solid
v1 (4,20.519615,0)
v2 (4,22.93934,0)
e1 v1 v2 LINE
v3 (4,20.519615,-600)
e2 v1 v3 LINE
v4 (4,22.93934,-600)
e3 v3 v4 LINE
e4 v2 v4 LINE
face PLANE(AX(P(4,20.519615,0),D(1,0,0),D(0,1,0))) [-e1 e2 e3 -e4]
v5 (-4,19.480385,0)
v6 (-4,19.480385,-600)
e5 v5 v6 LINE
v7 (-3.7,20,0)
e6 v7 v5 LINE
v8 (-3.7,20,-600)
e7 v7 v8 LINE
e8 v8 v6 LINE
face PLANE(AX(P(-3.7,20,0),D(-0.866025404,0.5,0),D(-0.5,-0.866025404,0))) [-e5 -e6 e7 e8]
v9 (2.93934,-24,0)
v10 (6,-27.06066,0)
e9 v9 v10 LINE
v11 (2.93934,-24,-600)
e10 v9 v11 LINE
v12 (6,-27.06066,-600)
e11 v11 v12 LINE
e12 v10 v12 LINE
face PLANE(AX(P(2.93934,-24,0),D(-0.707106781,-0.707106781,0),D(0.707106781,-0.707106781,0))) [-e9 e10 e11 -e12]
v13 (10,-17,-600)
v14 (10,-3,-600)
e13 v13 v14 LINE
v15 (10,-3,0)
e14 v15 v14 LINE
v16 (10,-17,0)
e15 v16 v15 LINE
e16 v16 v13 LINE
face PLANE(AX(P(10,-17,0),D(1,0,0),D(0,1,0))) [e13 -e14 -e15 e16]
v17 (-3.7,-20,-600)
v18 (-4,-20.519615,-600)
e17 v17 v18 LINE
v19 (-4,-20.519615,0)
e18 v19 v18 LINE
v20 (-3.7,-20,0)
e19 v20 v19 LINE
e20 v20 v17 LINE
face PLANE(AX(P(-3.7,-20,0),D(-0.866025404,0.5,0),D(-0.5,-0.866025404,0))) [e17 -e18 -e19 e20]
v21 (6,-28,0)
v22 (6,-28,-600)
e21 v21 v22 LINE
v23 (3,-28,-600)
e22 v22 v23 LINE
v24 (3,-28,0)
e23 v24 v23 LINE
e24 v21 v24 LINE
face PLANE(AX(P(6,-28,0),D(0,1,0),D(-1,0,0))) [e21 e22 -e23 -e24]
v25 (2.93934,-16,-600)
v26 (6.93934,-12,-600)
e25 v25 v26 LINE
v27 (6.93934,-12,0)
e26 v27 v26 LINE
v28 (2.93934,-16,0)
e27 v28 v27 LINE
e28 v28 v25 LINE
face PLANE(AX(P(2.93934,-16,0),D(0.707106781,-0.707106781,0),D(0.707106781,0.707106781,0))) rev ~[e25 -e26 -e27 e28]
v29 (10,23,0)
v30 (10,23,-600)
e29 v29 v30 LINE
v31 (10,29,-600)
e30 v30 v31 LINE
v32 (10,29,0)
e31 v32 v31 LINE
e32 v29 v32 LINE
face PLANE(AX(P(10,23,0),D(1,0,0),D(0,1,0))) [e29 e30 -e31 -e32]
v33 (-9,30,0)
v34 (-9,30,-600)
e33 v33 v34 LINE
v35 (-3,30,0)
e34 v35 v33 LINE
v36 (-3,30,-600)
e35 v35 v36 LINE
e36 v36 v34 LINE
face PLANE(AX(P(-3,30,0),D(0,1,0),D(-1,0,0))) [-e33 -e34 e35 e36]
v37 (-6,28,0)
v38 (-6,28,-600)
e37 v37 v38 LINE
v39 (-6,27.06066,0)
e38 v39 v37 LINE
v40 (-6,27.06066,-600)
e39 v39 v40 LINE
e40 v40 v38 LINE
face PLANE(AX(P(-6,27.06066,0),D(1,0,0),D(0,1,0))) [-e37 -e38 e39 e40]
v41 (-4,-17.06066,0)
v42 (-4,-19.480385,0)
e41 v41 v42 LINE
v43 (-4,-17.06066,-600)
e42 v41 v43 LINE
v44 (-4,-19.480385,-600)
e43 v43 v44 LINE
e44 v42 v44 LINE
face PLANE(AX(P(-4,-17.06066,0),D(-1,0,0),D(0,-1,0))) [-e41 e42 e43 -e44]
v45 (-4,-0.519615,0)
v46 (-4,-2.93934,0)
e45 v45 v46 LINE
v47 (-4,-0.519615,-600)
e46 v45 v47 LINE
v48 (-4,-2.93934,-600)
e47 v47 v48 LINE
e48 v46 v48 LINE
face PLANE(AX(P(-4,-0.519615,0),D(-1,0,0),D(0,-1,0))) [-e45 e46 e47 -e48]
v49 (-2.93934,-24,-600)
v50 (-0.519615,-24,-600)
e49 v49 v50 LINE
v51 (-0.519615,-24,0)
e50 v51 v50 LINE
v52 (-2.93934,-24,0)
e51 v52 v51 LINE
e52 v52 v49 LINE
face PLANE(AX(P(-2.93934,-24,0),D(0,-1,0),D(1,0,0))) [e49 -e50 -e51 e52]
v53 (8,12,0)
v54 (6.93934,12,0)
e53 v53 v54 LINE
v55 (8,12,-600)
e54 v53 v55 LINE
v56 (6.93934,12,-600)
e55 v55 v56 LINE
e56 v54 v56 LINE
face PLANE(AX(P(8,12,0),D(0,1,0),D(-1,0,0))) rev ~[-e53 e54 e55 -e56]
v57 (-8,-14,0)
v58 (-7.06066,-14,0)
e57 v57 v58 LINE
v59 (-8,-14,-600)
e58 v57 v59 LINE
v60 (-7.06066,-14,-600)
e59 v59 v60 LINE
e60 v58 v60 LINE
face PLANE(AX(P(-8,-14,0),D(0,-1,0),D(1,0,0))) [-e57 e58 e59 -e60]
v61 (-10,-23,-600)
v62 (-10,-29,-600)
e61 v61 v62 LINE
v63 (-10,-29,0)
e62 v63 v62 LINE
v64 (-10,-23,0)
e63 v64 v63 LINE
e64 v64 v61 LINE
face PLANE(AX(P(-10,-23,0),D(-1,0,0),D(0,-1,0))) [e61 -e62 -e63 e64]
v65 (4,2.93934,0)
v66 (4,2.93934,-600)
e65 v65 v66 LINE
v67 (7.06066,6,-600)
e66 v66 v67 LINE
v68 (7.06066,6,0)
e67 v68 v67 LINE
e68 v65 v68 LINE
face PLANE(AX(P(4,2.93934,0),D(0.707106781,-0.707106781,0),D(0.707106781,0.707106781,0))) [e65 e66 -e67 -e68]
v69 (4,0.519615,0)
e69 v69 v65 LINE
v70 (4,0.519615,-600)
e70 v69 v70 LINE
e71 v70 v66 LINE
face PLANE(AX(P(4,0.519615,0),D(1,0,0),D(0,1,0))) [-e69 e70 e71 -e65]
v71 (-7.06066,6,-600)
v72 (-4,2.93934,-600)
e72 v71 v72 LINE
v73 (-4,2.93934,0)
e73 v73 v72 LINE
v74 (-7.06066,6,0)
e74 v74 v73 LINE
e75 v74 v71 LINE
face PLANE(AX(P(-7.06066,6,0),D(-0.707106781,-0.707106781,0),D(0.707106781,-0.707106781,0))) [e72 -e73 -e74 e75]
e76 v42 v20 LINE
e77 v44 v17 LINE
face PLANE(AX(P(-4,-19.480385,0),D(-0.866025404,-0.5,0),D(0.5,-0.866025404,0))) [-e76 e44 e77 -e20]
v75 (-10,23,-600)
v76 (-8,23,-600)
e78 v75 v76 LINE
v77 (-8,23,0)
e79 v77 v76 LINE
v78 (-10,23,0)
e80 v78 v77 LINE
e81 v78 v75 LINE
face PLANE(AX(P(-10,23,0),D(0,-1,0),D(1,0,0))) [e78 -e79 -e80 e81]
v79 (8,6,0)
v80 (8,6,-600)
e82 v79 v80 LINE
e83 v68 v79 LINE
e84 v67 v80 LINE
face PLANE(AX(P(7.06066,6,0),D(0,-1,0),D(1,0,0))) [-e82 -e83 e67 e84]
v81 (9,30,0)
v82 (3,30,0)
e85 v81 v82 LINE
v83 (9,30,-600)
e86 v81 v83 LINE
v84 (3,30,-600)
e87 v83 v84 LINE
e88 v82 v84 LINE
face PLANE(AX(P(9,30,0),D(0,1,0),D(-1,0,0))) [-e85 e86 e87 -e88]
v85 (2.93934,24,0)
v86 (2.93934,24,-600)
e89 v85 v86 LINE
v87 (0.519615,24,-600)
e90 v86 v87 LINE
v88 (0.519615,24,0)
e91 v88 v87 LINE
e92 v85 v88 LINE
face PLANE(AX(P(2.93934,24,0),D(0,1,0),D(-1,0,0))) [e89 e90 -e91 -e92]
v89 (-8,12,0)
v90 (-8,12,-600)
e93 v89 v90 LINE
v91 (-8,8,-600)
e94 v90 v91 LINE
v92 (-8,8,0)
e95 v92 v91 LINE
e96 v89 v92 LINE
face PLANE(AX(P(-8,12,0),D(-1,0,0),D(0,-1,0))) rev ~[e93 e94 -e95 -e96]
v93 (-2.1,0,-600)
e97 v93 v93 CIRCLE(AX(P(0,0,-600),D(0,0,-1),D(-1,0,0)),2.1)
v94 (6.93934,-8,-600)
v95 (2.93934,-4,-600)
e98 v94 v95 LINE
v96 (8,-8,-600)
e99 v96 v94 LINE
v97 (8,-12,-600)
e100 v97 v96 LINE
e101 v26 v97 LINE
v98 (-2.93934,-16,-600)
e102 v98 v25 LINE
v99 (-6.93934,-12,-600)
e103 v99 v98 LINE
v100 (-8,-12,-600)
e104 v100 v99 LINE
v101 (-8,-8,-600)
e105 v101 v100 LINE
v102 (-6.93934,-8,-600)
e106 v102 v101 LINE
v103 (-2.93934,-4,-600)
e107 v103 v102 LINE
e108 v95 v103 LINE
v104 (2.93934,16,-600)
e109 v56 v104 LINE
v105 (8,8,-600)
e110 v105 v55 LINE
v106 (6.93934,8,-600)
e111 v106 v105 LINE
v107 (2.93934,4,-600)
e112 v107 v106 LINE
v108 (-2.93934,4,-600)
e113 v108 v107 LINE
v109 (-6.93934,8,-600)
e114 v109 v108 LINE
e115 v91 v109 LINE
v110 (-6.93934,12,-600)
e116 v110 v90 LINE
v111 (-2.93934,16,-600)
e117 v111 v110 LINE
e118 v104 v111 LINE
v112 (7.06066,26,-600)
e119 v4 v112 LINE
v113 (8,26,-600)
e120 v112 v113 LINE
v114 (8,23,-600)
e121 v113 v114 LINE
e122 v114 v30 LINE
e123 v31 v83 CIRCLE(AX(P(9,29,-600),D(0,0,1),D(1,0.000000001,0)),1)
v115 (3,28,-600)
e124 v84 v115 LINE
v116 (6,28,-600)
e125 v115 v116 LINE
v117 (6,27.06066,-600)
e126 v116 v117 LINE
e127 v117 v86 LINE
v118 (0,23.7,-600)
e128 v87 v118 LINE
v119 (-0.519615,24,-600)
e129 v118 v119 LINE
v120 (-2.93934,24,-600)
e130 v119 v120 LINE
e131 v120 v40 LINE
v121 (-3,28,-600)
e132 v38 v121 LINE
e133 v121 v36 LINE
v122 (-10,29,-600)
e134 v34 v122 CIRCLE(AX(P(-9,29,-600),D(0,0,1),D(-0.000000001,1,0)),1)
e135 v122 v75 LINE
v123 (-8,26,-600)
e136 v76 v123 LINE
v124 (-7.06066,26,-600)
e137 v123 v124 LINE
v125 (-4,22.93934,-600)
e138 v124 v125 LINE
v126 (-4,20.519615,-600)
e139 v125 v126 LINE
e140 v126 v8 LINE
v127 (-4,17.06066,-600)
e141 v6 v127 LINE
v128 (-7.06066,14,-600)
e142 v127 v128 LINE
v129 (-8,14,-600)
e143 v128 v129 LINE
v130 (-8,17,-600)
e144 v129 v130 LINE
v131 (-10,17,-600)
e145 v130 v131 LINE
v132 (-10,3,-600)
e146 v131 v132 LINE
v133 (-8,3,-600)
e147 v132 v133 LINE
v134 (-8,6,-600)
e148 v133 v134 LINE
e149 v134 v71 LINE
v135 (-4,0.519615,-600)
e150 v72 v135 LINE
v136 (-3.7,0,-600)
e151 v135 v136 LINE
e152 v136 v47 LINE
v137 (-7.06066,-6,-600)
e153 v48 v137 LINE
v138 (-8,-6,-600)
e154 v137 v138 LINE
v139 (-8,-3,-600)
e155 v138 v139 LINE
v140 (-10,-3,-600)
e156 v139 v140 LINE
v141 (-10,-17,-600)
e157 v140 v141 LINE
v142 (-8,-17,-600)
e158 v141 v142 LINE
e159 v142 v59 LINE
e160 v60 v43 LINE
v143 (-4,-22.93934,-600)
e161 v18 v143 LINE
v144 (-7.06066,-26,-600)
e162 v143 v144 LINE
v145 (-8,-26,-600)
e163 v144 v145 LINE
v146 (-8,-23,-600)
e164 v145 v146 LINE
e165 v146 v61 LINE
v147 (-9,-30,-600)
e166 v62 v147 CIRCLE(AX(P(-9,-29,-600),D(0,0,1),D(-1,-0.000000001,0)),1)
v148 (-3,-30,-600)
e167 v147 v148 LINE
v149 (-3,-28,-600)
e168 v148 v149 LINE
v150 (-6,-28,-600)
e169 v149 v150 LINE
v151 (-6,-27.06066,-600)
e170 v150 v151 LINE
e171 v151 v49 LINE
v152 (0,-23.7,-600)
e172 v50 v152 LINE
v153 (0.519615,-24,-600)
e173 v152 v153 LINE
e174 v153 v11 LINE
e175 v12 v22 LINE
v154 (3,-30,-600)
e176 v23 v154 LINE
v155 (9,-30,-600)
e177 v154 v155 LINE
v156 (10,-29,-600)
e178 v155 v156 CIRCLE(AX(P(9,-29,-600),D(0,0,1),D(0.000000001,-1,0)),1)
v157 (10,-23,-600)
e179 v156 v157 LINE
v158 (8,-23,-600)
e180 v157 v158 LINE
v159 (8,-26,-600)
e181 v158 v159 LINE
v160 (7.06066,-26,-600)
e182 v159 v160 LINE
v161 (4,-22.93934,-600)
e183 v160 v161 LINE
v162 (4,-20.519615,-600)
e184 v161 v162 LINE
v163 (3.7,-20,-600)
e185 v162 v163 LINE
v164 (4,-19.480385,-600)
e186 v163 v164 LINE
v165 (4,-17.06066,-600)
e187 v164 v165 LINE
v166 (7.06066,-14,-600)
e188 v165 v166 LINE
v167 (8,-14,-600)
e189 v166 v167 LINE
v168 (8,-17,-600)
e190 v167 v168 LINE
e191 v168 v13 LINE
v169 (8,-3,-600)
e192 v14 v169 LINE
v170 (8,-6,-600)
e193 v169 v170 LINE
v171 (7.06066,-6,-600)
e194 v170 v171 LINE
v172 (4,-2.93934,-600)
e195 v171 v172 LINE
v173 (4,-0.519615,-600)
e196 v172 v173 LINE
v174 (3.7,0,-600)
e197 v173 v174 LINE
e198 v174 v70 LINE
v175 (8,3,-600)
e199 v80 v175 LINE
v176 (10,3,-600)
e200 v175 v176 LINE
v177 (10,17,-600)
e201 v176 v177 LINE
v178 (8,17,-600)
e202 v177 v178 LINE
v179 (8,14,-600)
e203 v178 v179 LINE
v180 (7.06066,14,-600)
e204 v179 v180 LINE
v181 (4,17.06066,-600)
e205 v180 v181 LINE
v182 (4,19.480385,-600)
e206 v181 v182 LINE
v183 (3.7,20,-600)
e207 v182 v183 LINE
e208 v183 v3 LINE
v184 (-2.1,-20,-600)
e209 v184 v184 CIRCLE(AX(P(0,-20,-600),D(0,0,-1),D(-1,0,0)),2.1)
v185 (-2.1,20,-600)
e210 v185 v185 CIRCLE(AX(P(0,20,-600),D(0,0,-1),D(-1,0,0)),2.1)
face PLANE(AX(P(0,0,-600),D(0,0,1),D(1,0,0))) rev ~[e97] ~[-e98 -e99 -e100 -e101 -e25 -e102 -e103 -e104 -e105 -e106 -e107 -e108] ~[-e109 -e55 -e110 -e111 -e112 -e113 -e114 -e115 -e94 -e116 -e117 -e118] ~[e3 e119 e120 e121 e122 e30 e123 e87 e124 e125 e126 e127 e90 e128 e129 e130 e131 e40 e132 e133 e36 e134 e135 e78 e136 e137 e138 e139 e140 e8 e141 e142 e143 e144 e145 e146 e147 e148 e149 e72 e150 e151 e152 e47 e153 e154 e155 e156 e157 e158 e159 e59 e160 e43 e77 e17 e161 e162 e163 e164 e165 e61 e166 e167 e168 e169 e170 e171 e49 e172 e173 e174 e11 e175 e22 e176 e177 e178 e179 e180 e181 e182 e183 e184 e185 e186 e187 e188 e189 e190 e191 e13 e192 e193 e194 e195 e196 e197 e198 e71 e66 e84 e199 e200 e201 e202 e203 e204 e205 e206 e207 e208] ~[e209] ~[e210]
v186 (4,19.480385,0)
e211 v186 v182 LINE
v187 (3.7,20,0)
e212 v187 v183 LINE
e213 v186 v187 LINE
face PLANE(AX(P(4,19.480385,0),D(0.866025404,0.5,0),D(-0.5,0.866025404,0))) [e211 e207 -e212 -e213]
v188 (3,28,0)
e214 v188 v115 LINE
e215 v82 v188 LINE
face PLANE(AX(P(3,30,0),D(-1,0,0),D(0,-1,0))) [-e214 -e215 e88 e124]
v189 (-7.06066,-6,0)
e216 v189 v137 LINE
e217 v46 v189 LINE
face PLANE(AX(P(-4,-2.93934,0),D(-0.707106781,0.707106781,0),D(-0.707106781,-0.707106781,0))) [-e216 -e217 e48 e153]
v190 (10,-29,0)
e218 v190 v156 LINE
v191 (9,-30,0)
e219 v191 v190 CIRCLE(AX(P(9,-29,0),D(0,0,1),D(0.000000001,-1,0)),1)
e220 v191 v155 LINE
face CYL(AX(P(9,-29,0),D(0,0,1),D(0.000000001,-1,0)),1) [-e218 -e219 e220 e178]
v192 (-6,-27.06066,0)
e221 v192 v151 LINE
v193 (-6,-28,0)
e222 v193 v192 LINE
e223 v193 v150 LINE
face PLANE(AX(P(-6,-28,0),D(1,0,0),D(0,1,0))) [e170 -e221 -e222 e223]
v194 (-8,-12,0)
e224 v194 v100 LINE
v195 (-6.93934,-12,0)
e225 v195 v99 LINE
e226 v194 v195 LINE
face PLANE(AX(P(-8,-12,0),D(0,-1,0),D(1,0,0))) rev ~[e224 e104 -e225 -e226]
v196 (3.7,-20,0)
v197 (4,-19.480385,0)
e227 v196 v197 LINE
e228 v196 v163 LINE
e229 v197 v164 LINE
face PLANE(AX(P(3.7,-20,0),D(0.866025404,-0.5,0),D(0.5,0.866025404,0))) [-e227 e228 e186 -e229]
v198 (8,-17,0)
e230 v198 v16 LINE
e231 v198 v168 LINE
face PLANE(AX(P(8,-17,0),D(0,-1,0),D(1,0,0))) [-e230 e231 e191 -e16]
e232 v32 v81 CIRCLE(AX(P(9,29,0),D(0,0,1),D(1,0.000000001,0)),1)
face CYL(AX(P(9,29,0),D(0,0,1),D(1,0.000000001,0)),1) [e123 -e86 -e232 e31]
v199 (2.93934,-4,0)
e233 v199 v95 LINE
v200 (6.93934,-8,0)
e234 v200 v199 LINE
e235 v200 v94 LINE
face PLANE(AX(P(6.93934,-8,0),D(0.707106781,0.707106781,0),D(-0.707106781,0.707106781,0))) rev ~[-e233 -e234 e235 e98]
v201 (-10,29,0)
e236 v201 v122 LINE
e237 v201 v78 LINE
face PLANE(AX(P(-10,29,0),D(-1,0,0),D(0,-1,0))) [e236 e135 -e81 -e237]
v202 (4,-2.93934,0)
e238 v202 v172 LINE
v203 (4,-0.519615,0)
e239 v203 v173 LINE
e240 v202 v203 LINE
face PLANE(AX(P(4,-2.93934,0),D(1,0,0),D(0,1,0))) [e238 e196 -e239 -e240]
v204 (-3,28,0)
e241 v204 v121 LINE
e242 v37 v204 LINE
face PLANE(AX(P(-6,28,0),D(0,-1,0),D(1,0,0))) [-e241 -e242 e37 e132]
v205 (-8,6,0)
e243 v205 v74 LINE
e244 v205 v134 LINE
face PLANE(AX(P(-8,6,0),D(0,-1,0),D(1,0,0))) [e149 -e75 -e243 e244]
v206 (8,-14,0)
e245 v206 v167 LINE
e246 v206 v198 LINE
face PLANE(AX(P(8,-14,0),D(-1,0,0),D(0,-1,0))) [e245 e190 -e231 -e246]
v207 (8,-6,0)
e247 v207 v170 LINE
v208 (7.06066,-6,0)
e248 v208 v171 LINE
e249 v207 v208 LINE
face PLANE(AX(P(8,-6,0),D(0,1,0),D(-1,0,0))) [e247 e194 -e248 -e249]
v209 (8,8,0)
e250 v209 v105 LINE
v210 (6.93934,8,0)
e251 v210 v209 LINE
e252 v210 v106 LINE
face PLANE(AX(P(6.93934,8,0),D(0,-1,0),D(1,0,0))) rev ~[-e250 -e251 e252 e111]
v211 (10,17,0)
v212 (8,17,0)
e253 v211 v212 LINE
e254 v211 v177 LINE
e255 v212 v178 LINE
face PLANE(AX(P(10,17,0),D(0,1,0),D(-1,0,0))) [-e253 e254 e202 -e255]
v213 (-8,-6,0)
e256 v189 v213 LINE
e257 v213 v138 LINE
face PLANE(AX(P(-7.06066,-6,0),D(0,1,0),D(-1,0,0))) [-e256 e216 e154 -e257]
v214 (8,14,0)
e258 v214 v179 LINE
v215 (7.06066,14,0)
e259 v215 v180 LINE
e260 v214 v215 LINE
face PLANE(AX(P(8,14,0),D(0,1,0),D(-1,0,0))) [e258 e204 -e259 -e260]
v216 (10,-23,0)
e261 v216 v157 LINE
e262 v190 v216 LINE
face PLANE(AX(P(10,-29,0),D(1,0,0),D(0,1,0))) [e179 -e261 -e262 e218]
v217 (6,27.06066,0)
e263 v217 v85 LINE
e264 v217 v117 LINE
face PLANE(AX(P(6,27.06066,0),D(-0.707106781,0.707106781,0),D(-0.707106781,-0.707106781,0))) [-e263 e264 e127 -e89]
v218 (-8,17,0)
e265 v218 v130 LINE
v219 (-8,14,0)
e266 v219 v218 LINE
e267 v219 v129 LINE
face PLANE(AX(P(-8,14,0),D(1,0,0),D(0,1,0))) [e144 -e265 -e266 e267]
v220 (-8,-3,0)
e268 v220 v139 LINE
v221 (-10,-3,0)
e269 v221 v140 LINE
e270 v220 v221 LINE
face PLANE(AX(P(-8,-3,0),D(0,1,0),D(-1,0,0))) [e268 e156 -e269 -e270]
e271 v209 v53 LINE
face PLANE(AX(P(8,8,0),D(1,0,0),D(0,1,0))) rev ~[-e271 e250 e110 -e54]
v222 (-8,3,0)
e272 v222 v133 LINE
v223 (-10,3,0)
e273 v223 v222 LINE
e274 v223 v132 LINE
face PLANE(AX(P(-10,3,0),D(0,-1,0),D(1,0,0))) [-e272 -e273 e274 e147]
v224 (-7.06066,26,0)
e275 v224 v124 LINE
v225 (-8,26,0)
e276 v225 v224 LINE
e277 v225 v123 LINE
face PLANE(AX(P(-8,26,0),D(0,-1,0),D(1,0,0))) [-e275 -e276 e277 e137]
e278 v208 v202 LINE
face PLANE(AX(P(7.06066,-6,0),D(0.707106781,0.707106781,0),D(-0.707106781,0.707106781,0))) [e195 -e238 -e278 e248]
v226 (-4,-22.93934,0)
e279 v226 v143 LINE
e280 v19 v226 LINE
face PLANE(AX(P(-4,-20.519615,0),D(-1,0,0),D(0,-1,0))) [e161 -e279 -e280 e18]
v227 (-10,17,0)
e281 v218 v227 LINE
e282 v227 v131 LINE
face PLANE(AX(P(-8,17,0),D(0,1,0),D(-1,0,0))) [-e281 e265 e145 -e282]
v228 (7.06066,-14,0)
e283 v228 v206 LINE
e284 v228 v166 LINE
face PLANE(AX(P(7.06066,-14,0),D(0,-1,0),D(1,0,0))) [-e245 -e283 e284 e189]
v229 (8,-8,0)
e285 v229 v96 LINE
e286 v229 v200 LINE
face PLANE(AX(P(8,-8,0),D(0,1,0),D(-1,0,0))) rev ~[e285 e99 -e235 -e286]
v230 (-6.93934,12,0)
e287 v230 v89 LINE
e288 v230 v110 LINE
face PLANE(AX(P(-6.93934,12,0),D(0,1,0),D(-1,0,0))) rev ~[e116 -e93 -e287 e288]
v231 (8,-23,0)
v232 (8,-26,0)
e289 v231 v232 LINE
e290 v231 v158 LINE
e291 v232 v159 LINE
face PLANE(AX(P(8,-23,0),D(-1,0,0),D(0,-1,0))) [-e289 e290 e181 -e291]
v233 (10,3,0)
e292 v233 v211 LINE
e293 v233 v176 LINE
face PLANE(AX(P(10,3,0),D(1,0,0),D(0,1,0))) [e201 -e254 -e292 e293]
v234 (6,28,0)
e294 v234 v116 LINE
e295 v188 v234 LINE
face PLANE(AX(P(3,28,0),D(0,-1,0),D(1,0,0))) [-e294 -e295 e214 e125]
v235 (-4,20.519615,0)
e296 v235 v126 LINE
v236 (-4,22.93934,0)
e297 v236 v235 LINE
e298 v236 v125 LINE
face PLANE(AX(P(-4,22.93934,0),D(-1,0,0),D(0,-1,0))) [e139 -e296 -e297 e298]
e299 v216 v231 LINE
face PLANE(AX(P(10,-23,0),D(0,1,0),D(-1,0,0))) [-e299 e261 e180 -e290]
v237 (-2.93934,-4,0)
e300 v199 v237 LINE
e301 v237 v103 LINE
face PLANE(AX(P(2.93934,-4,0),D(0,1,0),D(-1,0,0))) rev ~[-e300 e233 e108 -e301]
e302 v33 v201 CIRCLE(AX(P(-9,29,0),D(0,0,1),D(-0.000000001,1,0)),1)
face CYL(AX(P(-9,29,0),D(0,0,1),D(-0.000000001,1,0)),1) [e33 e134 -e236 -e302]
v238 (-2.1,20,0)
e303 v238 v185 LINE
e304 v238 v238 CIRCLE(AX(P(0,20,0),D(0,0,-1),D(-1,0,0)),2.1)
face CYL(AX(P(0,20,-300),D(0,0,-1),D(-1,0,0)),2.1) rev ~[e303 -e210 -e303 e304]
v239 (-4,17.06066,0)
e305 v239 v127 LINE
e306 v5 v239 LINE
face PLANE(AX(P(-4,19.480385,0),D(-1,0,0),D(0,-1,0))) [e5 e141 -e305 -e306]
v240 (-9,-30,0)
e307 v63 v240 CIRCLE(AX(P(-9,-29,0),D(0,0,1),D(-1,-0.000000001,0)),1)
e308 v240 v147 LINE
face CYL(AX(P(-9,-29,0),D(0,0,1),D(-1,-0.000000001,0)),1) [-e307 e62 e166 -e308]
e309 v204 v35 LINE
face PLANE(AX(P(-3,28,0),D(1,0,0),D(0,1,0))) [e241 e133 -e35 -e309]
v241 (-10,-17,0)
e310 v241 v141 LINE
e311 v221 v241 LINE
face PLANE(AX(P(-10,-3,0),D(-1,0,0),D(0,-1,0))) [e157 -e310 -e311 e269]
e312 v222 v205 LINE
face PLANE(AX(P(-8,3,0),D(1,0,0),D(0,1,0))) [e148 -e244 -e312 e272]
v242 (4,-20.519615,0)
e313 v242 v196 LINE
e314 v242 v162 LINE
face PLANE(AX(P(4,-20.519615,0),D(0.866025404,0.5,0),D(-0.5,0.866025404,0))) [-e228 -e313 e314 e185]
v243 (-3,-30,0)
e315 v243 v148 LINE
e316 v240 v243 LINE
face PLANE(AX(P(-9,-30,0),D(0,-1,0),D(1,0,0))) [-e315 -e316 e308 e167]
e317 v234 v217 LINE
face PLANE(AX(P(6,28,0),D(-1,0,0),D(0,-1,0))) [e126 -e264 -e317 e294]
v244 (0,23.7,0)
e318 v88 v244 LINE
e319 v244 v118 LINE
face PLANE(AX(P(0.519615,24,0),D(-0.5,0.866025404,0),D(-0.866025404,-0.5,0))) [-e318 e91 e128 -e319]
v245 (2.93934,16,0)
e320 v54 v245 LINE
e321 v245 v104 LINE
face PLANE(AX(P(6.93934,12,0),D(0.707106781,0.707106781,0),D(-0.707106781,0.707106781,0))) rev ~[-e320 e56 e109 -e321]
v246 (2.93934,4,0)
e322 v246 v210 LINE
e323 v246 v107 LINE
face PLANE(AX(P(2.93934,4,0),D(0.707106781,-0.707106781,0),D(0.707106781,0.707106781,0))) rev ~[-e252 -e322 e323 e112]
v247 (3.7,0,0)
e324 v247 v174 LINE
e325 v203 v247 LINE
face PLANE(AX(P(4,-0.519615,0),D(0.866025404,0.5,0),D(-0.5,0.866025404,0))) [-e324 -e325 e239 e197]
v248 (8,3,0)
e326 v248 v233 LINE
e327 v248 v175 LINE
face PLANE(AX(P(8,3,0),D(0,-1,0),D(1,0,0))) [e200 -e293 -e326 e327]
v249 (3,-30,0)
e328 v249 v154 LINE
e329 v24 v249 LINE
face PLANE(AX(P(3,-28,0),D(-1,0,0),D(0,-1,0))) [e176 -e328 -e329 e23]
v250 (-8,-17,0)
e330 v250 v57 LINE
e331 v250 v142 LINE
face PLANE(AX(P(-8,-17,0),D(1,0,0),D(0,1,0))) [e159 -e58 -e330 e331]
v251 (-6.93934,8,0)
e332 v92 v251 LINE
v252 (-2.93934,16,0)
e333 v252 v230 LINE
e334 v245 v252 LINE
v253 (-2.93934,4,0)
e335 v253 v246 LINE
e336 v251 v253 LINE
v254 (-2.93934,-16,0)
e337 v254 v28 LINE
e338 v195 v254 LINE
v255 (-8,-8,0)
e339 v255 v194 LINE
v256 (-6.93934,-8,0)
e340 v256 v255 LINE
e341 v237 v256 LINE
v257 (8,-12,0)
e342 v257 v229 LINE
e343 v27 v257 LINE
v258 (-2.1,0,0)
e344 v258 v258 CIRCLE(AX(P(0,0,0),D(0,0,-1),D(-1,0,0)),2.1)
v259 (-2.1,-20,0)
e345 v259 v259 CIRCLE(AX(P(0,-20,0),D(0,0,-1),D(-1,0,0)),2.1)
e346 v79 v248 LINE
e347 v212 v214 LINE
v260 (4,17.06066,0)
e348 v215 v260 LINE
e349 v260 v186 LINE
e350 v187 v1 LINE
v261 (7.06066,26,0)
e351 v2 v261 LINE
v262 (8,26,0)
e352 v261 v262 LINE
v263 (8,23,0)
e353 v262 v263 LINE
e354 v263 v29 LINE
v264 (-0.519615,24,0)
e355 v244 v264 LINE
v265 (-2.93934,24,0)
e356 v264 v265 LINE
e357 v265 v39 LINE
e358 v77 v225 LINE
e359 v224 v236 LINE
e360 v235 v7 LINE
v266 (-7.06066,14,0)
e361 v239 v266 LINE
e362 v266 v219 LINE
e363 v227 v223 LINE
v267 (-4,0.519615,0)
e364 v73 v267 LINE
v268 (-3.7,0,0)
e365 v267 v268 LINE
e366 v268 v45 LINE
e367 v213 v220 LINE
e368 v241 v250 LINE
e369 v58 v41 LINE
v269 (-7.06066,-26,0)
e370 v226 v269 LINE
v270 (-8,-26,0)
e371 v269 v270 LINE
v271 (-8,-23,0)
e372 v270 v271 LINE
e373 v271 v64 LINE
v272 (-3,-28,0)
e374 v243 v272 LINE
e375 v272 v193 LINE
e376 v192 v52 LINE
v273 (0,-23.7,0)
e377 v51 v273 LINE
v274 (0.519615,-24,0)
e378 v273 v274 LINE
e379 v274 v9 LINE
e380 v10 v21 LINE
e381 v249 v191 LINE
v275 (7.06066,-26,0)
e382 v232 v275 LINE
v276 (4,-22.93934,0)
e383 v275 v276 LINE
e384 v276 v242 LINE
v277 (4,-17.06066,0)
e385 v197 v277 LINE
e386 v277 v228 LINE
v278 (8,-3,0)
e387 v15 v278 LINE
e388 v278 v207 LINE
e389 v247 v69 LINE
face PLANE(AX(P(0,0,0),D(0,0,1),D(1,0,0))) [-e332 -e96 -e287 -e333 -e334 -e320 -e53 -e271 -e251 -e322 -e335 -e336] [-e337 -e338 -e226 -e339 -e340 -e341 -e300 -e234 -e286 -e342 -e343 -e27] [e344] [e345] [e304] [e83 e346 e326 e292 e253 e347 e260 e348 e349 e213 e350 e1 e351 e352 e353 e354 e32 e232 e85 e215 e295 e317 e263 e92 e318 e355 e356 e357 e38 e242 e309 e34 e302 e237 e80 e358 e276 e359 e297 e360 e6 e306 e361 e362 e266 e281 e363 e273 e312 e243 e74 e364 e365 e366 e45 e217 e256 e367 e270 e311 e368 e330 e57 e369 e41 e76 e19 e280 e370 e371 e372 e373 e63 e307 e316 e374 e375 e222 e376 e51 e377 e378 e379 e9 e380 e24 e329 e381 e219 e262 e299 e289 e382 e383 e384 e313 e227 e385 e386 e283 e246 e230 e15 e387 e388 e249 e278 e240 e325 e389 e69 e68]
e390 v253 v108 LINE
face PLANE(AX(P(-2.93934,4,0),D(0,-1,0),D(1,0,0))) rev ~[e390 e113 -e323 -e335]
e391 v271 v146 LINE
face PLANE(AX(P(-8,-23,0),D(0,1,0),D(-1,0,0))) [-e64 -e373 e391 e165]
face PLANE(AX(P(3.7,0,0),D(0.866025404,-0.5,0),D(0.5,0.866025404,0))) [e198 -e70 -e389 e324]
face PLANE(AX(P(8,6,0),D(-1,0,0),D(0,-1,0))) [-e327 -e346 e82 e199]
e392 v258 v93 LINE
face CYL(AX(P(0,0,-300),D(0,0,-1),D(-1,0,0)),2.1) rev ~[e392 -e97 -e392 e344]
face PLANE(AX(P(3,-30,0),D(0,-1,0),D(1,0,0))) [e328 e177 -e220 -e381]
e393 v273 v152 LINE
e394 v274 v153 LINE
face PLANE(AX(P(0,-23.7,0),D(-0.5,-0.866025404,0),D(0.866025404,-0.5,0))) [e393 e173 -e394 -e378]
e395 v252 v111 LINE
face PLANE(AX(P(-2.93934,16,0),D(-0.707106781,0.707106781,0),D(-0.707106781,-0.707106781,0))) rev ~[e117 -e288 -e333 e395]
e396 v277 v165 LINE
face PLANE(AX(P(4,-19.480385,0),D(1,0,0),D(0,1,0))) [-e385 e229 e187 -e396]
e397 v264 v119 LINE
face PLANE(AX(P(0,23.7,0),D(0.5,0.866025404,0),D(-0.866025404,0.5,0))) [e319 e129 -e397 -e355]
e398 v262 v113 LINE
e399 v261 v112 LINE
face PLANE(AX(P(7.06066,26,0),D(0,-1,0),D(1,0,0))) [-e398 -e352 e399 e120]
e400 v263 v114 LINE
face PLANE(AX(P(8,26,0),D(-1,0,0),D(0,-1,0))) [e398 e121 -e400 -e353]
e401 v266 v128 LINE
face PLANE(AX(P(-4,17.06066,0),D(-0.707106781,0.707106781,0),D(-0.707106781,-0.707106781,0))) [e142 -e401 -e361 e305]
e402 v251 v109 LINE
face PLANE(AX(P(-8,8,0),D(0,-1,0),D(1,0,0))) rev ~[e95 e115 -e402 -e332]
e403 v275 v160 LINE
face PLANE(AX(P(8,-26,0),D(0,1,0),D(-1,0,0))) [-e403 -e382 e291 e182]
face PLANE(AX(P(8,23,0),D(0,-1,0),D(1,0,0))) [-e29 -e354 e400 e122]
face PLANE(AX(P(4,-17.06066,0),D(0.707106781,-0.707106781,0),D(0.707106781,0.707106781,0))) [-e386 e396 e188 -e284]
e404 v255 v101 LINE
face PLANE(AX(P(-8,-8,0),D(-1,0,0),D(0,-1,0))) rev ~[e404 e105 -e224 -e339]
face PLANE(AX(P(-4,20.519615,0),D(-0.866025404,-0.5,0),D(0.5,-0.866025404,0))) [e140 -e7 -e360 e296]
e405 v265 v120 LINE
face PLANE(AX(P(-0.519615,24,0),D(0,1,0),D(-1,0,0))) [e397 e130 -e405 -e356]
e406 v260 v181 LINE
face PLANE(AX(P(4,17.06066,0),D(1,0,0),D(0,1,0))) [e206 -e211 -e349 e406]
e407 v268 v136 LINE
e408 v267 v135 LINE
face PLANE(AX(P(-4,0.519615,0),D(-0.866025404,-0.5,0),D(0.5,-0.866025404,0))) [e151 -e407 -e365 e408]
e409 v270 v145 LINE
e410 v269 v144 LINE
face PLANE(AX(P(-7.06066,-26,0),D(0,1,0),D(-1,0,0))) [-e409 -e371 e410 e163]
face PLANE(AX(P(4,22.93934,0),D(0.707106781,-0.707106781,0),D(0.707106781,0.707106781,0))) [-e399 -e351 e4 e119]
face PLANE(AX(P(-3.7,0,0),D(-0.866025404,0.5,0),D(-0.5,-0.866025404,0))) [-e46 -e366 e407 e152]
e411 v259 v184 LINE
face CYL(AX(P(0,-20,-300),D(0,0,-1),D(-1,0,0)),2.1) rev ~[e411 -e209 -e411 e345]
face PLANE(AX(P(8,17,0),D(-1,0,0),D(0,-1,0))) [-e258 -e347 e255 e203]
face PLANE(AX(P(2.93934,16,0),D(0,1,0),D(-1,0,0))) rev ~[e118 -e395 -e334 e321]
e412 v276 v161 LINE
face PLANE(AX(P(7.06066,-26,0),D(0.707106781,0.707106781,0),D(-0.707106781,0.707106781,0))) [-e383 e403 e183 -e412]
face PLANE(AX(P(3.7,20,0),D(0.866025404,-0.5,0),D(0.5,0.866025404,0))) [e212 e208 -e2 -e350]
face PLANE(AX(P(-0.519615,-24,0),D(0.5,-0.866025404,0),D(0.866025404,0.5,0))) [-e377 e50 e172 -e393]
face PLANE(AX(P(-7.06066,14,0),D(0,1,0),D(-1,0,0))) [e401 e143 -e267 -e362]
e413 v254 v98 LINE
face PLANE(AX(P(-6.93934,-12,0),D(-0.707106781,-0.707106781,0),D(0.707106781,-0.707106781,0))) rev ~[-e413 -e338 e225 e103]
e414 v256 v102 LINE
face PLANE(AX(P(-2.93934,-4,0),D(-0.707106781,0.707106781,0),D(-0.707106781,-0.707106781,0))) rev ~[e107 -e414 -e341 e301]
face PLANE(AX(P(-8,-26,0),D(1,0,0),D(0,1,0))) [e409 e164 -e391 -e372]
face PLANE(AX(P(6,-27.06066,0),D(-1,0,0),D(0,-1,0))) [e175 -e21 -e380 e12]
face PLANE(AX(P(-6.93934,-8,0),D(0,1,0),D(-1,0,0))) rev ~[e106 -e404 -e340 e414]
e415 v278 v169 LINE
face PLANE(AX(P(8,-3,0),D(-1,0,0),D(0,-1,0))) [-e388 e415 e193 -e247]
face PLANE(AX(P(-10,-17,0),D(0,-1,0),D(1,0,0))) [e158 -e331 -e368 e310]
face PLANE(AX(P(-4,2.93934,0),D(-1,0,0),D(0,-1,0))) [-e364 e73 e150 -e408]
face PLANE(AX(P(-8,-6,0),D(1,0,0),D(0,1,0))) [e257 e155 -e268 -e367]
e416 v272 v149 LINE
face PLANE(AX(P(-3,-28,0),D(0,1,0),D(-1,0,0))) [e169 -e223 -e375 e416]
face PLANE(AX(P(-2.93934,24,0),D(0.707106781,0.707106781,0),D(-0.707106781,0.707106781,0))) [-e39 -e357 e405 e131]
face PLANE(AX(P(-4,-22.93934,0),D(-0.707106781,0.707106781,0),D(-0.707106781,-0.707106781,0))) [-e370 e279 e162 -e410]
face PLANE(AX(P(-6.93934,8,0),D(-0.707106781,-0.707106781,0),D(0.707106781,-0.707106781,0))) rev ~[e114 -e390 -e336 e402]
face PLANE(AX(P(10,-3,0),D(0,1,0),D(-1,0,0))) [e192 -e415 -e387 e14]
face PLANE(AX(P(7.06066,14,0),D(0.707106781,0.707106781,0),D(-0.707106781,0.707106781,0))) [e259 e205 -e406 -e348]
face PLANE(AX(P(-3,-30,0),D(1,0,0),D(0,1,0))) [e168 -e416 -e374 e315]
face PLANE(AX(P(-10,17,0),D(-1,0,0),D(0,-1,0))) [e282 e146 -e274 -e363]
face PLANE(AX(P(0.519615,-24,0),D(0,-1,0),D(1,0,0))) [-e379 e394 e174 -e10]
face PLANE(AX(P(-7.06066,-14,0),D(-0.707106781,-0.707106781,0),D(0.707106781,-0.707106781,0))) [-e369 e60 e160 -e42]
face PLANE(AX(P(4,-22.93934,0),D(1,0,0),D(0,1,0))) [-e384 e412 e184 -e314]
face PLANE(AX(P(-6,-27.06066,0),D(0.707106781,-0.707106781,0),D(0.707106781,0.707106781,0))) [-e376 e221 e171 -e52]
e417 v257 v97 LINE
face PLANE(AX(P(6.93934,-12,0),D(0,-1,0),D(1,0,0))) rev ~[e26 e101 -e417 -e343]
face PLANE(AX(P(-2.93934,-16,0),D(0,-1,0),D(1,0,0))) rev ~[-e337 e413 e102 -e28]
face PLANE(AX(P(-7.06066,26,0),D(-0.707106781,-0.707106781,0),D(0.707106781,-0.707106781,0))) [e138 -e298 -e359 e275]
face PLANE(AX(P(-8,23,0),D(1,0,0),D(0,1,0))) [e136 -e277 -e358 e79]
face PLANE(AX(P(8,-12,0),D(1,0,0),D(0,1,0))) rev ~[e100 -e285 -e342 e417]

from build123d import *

# Parameters (mm, degrees)
BOSS_EXTRUDE1_DEPTH = 600
SKETCH2_W           = 600
SKETCH2_H           = 2.1
SKETCH3_W           = 600
SKETCH3_H           = 2.1
SKETCH4_W           = 600
SKETCH4_H           = 2.1


with BuildPart() as part:
    # Sketch1 → Boss-Extrude1 (new body)
    with BuildSketch(Plane.XY):
        with BuildLine():
            Line((-10, -17), (-8, -17))
            Line((-8, -17), (-8, -14))
            Line((-8, -14), (-7.060660172, -14))
            Line((-7.060660172, -14), (-4, -17.060660172))
            Line((-4, -17.060660172), (-4, -19.480384758))
            Line((-4, -19.480384758), (-3.7, -20))
            Line((-3.7, -20), (-4, -20.519615242))
            Line((-4, -20.519615242), (-4, -22.939339828))
            Line((-4, -22.939339828), (-7.060660172, -26))
            Line((-7.060660172, -26), (-8, -26))
            Line((-8, -26), (-8, -23))
            Line((-8, -23), (-10, -23))
            Line((-10, -23), (-10, -29))
            ThreePointArc((-10, -29), (-9.707106781, -29.707106781), (-9, -30))
            Line((-9, -30), (-3, -30))
            Line((-3, -30), (-3, -28))
            Line((-3, -28), (-6, -28))
            Line((-6, -28), (-6, -27.060660172))
            Line((-6, -27.060660172), (-2.939339828, -24))
            Line((-2.939339828, -24), (-0.519615242, -24))
            Line((-0.519615242, -24), (0, -23.7))
            Line((0, -23.7), (0.519615242, -24))
            Line((0.519615242, -24), (2.939339828, -24))
            Line((2.939339828, -24), (6, -27.060660172))
            Line((6, -27.060660172), (6, -28))
            Line((6, -28), (3, -28))
            Line((3, -28), (3, -30))
            Line((3, -30), (9, -30))
            ThreePointArc((9, -30), (9.707106781, -29.707106781), (10, -29))
            Line((10, -29), (10, -23))
            Line((10, -23), (8, -23))
            Line((8, -23), (8, -26))
            Line((8, -26), (7.060660172, -26))
            Line((7.060660172, -26), (4, -22.939339828))
            Line((4, -22.939339828), (4, -20.519615242))
            Line((4, -20.519615242), (3.7, -20))
            Line((3.7, -20), (4, -19.480384758))
            Line((4, -19.480384758), (4, -17.060660172))
            Line((4, -17.060660172), (7.060660172, -14))
            Line((7.060660172, -14), (8, -14))
            Line((8, -14), (8, -17))
            Line((8, -17), (10, -17))
            Line((10, -17), (10, -3))
            Line((10, -3), (8, -3))
            Line((8, -3), (8, -6))
            Line((8, -6), (7.060660172, -6))
            Line((7.060660172, -6), (4, -2.939339828))
            Line((4, -2.939339828), (4, -0.519615242))
            Line((4, -0.519615242), (3.7, 0))
            Line((3.7, 0), (4, 0.519615242))
            Line((4, 0.519615242), (4, 2.939339828))
            Line((4, 2.939339828), (7.060660172, 6))
            Line((7.060660172, 6), (8, 6))
            Line((8, 6), (8, 3))
            Line((8, 3), (10, 3))
            Line((10, 3), (10, 17))
            Line((10, 17), (8, 17))
            Line((8, 17), (8, 14))
            Line((8, 14), (7.060660172, 14))
            Line((7.060660172, 14), (4, 17.060660172))
            Line((4, 17.060660172), (4, 19.480384758))
            Line((4, 19.480384758), (3.7, 20))
            Line((3.7, 20), (4, 20.519615242))
            Line((4, 20.519615242), (4, 22.939339828))
            Line((4, 22.939339828), (7.060660172, 26))
            Line((7.060660172, 26), (8, 26))
            Line((8, 26), (8, 23))
            Line((8, 23), (10, 23))
            Line((10, 23), (10, 29))
            ThreePointArc((10, 29), (9.707106781, 29.707106781), (9, 30))
            Line((9, 30), (3, 30))
            Line((3, 30), (3, 28))
            Line((3, 28), (6, 28))
            Line((6, 28), (6, 27.060660172))
            Line((6, 27.060660172), (2.939339828, 24))
            Line((2.939339828, 24), (0.519615242, 24))
            Line((0.519615242, 24), (0, 23.7))
            Line((0, 23.7), (-0.519615242, 24))
            Line((-0.519615242, 24), (-2.939339828, 24))
            Line((-2.939339828, 24), (-6, 27.060660172))
            Line((-6, 27.060660172), (-6, 28))
            Line((-6, 28), (-3, 28))
            Line((-3, 28), (-3, 30))
            Line((-3, 30), (-9, 30))
            ThreePointArc((-9, 30), (-9.707106781, 29.707106781), (-10, 29))
            Line((-10, 29), (-10, 23))
            Line((-10, 23), (-8, 23))
            Line((-8, 23), (-8, 26))
            Line((-8, 26), (-7.060660172, 26))
            Line((-7.060660172, 26), (-4, 22.939339828))
            Line((-4, 22.939339828), (-4, 20.519615242))
            Line((-4, 20.519615242), (-3.7, 20))
            Line((-3.7, 20), (-4, 19.480384758))
            Line((-4, 19.480384758), (-4, 17.060660172))
            Line((-4, 17.060660172), (-7.060660172, 14))
            Line((-7.060660172, 14), (-8, 14))
            Line((-8, 14), (-8, 17))
            Line((-8, 17), (-10, 17))
            Line((-10, 17), (-10, 3))
            Line((-10, 3), (-8, 3))
            Line((-8, 3), (-8, 6))
            Line((-8, 6), (-7.060660172, 6))
            Line((-7.060660172, 6), (-4, 2.939339828))
            Line((-4, 2.939339828), (-4, 0.519615242))
            Line((-4, 0.519615242), (-3.7, 0))
            Line((-3.7, 0), (-4, -0.519615242))
            Line((-4, -0.519615242), (-4, -2.939339828))
            Line((-4, -2.939339828), (-7.060660172, -6))
            Line((-7.060660172, -6), (-8, -6))
            Line((-8, -6), (-8, -3))
            Line((-8, -3), (-10, -3))
            Line((-10, -3), (-10, -17))
        make_face()
        Polygon((-8, 8), (-6.939339828, 8), (-2.939339828, 4), (2.939339828, 4), (6.939339828, 8), (8, 8), (8, 12), (6.939339828, 12), (2.939339828, 16), (-2.939339828, 16), (-6.939339828, 12), (-8, 12), align=None, mode=Mode.SUBTRACT)
        Polygon((-8, -8), (-8, -12), (-6.939339828, -12), (-2.939339828, -16), (2.939339828, -16), (6.939339828, -12), (8, -12), (8, -8), (6.939339828, -8), (2.939339828, -4), (-2.939339828, -4), (-6.939339828, -8), align=None, mode=Mode.SUBTRACT)
    extrude(amount=-BOSS_EXTRUDE1_DEPTH)

    # Sketch2 → Cut-Revolve1 (revolve, cut)
    with BuildSketch(Plane(origin=(0, 0, 0), x_dir=(0, 0, -1), z_dir=(1, 0, 0)), mode=Mode.PRIVATE) as cut_revolve1_sk:
        with Locations((300, 18.95)):
            Rectangle(SKETCH2_W, SKETCH2_H)
    revolve(cut_revolve1_sk.sketch.rotate(Axis((0, 20, 0), (0, 0, -1)), 90), axis=Axis((0, 20, 0), (0, 0, -1)), mode=Mode.SUBTRACT)

    # Sketch3 → Cut-Revolve2 (revolve, cut)
    with BuildSketch(Plane(origin=(0, 0, 0), x_dir=(0, 0, -1), z_dir=(1, 0, 0)), mode=Mode.PRIVATE) as cut_revolve2_sk:
        with Locations((300, -1.05)):
            Rectangle(SKETCH3_W, SKETCH3_H)
    revolve(cut_revolve2_sk.sketch.rotate(Axis((0, 0, 0), (0, 0, -1)), 90), axis=Axis((0, 0, 0), (0, 0, -1)), mode=Mode.SUBTRACT)

    # Sketch4 → Cut-Revolve3 (revolve, cut)
    with BuildSketch(Plane(origin=(0, 0, 0), x_dir=(0, 0, -1), z_dir=(1, 0, 0)), mode=Mode.PRIVATE) as cut_revolve3_sk:
        with Locations((300, -21.05)):
            Rectangle(SKETCH4_W, SKETCH4_H)
    revolve(cut_revolve3_sk.sketch.rotate(Axis((0, -20, 0), (0, 0, -1)), 90), axis=Axis((0, -20, 0), (0, 0, -1)), mode=Mode.SUBTRACT)


solid = part.part
